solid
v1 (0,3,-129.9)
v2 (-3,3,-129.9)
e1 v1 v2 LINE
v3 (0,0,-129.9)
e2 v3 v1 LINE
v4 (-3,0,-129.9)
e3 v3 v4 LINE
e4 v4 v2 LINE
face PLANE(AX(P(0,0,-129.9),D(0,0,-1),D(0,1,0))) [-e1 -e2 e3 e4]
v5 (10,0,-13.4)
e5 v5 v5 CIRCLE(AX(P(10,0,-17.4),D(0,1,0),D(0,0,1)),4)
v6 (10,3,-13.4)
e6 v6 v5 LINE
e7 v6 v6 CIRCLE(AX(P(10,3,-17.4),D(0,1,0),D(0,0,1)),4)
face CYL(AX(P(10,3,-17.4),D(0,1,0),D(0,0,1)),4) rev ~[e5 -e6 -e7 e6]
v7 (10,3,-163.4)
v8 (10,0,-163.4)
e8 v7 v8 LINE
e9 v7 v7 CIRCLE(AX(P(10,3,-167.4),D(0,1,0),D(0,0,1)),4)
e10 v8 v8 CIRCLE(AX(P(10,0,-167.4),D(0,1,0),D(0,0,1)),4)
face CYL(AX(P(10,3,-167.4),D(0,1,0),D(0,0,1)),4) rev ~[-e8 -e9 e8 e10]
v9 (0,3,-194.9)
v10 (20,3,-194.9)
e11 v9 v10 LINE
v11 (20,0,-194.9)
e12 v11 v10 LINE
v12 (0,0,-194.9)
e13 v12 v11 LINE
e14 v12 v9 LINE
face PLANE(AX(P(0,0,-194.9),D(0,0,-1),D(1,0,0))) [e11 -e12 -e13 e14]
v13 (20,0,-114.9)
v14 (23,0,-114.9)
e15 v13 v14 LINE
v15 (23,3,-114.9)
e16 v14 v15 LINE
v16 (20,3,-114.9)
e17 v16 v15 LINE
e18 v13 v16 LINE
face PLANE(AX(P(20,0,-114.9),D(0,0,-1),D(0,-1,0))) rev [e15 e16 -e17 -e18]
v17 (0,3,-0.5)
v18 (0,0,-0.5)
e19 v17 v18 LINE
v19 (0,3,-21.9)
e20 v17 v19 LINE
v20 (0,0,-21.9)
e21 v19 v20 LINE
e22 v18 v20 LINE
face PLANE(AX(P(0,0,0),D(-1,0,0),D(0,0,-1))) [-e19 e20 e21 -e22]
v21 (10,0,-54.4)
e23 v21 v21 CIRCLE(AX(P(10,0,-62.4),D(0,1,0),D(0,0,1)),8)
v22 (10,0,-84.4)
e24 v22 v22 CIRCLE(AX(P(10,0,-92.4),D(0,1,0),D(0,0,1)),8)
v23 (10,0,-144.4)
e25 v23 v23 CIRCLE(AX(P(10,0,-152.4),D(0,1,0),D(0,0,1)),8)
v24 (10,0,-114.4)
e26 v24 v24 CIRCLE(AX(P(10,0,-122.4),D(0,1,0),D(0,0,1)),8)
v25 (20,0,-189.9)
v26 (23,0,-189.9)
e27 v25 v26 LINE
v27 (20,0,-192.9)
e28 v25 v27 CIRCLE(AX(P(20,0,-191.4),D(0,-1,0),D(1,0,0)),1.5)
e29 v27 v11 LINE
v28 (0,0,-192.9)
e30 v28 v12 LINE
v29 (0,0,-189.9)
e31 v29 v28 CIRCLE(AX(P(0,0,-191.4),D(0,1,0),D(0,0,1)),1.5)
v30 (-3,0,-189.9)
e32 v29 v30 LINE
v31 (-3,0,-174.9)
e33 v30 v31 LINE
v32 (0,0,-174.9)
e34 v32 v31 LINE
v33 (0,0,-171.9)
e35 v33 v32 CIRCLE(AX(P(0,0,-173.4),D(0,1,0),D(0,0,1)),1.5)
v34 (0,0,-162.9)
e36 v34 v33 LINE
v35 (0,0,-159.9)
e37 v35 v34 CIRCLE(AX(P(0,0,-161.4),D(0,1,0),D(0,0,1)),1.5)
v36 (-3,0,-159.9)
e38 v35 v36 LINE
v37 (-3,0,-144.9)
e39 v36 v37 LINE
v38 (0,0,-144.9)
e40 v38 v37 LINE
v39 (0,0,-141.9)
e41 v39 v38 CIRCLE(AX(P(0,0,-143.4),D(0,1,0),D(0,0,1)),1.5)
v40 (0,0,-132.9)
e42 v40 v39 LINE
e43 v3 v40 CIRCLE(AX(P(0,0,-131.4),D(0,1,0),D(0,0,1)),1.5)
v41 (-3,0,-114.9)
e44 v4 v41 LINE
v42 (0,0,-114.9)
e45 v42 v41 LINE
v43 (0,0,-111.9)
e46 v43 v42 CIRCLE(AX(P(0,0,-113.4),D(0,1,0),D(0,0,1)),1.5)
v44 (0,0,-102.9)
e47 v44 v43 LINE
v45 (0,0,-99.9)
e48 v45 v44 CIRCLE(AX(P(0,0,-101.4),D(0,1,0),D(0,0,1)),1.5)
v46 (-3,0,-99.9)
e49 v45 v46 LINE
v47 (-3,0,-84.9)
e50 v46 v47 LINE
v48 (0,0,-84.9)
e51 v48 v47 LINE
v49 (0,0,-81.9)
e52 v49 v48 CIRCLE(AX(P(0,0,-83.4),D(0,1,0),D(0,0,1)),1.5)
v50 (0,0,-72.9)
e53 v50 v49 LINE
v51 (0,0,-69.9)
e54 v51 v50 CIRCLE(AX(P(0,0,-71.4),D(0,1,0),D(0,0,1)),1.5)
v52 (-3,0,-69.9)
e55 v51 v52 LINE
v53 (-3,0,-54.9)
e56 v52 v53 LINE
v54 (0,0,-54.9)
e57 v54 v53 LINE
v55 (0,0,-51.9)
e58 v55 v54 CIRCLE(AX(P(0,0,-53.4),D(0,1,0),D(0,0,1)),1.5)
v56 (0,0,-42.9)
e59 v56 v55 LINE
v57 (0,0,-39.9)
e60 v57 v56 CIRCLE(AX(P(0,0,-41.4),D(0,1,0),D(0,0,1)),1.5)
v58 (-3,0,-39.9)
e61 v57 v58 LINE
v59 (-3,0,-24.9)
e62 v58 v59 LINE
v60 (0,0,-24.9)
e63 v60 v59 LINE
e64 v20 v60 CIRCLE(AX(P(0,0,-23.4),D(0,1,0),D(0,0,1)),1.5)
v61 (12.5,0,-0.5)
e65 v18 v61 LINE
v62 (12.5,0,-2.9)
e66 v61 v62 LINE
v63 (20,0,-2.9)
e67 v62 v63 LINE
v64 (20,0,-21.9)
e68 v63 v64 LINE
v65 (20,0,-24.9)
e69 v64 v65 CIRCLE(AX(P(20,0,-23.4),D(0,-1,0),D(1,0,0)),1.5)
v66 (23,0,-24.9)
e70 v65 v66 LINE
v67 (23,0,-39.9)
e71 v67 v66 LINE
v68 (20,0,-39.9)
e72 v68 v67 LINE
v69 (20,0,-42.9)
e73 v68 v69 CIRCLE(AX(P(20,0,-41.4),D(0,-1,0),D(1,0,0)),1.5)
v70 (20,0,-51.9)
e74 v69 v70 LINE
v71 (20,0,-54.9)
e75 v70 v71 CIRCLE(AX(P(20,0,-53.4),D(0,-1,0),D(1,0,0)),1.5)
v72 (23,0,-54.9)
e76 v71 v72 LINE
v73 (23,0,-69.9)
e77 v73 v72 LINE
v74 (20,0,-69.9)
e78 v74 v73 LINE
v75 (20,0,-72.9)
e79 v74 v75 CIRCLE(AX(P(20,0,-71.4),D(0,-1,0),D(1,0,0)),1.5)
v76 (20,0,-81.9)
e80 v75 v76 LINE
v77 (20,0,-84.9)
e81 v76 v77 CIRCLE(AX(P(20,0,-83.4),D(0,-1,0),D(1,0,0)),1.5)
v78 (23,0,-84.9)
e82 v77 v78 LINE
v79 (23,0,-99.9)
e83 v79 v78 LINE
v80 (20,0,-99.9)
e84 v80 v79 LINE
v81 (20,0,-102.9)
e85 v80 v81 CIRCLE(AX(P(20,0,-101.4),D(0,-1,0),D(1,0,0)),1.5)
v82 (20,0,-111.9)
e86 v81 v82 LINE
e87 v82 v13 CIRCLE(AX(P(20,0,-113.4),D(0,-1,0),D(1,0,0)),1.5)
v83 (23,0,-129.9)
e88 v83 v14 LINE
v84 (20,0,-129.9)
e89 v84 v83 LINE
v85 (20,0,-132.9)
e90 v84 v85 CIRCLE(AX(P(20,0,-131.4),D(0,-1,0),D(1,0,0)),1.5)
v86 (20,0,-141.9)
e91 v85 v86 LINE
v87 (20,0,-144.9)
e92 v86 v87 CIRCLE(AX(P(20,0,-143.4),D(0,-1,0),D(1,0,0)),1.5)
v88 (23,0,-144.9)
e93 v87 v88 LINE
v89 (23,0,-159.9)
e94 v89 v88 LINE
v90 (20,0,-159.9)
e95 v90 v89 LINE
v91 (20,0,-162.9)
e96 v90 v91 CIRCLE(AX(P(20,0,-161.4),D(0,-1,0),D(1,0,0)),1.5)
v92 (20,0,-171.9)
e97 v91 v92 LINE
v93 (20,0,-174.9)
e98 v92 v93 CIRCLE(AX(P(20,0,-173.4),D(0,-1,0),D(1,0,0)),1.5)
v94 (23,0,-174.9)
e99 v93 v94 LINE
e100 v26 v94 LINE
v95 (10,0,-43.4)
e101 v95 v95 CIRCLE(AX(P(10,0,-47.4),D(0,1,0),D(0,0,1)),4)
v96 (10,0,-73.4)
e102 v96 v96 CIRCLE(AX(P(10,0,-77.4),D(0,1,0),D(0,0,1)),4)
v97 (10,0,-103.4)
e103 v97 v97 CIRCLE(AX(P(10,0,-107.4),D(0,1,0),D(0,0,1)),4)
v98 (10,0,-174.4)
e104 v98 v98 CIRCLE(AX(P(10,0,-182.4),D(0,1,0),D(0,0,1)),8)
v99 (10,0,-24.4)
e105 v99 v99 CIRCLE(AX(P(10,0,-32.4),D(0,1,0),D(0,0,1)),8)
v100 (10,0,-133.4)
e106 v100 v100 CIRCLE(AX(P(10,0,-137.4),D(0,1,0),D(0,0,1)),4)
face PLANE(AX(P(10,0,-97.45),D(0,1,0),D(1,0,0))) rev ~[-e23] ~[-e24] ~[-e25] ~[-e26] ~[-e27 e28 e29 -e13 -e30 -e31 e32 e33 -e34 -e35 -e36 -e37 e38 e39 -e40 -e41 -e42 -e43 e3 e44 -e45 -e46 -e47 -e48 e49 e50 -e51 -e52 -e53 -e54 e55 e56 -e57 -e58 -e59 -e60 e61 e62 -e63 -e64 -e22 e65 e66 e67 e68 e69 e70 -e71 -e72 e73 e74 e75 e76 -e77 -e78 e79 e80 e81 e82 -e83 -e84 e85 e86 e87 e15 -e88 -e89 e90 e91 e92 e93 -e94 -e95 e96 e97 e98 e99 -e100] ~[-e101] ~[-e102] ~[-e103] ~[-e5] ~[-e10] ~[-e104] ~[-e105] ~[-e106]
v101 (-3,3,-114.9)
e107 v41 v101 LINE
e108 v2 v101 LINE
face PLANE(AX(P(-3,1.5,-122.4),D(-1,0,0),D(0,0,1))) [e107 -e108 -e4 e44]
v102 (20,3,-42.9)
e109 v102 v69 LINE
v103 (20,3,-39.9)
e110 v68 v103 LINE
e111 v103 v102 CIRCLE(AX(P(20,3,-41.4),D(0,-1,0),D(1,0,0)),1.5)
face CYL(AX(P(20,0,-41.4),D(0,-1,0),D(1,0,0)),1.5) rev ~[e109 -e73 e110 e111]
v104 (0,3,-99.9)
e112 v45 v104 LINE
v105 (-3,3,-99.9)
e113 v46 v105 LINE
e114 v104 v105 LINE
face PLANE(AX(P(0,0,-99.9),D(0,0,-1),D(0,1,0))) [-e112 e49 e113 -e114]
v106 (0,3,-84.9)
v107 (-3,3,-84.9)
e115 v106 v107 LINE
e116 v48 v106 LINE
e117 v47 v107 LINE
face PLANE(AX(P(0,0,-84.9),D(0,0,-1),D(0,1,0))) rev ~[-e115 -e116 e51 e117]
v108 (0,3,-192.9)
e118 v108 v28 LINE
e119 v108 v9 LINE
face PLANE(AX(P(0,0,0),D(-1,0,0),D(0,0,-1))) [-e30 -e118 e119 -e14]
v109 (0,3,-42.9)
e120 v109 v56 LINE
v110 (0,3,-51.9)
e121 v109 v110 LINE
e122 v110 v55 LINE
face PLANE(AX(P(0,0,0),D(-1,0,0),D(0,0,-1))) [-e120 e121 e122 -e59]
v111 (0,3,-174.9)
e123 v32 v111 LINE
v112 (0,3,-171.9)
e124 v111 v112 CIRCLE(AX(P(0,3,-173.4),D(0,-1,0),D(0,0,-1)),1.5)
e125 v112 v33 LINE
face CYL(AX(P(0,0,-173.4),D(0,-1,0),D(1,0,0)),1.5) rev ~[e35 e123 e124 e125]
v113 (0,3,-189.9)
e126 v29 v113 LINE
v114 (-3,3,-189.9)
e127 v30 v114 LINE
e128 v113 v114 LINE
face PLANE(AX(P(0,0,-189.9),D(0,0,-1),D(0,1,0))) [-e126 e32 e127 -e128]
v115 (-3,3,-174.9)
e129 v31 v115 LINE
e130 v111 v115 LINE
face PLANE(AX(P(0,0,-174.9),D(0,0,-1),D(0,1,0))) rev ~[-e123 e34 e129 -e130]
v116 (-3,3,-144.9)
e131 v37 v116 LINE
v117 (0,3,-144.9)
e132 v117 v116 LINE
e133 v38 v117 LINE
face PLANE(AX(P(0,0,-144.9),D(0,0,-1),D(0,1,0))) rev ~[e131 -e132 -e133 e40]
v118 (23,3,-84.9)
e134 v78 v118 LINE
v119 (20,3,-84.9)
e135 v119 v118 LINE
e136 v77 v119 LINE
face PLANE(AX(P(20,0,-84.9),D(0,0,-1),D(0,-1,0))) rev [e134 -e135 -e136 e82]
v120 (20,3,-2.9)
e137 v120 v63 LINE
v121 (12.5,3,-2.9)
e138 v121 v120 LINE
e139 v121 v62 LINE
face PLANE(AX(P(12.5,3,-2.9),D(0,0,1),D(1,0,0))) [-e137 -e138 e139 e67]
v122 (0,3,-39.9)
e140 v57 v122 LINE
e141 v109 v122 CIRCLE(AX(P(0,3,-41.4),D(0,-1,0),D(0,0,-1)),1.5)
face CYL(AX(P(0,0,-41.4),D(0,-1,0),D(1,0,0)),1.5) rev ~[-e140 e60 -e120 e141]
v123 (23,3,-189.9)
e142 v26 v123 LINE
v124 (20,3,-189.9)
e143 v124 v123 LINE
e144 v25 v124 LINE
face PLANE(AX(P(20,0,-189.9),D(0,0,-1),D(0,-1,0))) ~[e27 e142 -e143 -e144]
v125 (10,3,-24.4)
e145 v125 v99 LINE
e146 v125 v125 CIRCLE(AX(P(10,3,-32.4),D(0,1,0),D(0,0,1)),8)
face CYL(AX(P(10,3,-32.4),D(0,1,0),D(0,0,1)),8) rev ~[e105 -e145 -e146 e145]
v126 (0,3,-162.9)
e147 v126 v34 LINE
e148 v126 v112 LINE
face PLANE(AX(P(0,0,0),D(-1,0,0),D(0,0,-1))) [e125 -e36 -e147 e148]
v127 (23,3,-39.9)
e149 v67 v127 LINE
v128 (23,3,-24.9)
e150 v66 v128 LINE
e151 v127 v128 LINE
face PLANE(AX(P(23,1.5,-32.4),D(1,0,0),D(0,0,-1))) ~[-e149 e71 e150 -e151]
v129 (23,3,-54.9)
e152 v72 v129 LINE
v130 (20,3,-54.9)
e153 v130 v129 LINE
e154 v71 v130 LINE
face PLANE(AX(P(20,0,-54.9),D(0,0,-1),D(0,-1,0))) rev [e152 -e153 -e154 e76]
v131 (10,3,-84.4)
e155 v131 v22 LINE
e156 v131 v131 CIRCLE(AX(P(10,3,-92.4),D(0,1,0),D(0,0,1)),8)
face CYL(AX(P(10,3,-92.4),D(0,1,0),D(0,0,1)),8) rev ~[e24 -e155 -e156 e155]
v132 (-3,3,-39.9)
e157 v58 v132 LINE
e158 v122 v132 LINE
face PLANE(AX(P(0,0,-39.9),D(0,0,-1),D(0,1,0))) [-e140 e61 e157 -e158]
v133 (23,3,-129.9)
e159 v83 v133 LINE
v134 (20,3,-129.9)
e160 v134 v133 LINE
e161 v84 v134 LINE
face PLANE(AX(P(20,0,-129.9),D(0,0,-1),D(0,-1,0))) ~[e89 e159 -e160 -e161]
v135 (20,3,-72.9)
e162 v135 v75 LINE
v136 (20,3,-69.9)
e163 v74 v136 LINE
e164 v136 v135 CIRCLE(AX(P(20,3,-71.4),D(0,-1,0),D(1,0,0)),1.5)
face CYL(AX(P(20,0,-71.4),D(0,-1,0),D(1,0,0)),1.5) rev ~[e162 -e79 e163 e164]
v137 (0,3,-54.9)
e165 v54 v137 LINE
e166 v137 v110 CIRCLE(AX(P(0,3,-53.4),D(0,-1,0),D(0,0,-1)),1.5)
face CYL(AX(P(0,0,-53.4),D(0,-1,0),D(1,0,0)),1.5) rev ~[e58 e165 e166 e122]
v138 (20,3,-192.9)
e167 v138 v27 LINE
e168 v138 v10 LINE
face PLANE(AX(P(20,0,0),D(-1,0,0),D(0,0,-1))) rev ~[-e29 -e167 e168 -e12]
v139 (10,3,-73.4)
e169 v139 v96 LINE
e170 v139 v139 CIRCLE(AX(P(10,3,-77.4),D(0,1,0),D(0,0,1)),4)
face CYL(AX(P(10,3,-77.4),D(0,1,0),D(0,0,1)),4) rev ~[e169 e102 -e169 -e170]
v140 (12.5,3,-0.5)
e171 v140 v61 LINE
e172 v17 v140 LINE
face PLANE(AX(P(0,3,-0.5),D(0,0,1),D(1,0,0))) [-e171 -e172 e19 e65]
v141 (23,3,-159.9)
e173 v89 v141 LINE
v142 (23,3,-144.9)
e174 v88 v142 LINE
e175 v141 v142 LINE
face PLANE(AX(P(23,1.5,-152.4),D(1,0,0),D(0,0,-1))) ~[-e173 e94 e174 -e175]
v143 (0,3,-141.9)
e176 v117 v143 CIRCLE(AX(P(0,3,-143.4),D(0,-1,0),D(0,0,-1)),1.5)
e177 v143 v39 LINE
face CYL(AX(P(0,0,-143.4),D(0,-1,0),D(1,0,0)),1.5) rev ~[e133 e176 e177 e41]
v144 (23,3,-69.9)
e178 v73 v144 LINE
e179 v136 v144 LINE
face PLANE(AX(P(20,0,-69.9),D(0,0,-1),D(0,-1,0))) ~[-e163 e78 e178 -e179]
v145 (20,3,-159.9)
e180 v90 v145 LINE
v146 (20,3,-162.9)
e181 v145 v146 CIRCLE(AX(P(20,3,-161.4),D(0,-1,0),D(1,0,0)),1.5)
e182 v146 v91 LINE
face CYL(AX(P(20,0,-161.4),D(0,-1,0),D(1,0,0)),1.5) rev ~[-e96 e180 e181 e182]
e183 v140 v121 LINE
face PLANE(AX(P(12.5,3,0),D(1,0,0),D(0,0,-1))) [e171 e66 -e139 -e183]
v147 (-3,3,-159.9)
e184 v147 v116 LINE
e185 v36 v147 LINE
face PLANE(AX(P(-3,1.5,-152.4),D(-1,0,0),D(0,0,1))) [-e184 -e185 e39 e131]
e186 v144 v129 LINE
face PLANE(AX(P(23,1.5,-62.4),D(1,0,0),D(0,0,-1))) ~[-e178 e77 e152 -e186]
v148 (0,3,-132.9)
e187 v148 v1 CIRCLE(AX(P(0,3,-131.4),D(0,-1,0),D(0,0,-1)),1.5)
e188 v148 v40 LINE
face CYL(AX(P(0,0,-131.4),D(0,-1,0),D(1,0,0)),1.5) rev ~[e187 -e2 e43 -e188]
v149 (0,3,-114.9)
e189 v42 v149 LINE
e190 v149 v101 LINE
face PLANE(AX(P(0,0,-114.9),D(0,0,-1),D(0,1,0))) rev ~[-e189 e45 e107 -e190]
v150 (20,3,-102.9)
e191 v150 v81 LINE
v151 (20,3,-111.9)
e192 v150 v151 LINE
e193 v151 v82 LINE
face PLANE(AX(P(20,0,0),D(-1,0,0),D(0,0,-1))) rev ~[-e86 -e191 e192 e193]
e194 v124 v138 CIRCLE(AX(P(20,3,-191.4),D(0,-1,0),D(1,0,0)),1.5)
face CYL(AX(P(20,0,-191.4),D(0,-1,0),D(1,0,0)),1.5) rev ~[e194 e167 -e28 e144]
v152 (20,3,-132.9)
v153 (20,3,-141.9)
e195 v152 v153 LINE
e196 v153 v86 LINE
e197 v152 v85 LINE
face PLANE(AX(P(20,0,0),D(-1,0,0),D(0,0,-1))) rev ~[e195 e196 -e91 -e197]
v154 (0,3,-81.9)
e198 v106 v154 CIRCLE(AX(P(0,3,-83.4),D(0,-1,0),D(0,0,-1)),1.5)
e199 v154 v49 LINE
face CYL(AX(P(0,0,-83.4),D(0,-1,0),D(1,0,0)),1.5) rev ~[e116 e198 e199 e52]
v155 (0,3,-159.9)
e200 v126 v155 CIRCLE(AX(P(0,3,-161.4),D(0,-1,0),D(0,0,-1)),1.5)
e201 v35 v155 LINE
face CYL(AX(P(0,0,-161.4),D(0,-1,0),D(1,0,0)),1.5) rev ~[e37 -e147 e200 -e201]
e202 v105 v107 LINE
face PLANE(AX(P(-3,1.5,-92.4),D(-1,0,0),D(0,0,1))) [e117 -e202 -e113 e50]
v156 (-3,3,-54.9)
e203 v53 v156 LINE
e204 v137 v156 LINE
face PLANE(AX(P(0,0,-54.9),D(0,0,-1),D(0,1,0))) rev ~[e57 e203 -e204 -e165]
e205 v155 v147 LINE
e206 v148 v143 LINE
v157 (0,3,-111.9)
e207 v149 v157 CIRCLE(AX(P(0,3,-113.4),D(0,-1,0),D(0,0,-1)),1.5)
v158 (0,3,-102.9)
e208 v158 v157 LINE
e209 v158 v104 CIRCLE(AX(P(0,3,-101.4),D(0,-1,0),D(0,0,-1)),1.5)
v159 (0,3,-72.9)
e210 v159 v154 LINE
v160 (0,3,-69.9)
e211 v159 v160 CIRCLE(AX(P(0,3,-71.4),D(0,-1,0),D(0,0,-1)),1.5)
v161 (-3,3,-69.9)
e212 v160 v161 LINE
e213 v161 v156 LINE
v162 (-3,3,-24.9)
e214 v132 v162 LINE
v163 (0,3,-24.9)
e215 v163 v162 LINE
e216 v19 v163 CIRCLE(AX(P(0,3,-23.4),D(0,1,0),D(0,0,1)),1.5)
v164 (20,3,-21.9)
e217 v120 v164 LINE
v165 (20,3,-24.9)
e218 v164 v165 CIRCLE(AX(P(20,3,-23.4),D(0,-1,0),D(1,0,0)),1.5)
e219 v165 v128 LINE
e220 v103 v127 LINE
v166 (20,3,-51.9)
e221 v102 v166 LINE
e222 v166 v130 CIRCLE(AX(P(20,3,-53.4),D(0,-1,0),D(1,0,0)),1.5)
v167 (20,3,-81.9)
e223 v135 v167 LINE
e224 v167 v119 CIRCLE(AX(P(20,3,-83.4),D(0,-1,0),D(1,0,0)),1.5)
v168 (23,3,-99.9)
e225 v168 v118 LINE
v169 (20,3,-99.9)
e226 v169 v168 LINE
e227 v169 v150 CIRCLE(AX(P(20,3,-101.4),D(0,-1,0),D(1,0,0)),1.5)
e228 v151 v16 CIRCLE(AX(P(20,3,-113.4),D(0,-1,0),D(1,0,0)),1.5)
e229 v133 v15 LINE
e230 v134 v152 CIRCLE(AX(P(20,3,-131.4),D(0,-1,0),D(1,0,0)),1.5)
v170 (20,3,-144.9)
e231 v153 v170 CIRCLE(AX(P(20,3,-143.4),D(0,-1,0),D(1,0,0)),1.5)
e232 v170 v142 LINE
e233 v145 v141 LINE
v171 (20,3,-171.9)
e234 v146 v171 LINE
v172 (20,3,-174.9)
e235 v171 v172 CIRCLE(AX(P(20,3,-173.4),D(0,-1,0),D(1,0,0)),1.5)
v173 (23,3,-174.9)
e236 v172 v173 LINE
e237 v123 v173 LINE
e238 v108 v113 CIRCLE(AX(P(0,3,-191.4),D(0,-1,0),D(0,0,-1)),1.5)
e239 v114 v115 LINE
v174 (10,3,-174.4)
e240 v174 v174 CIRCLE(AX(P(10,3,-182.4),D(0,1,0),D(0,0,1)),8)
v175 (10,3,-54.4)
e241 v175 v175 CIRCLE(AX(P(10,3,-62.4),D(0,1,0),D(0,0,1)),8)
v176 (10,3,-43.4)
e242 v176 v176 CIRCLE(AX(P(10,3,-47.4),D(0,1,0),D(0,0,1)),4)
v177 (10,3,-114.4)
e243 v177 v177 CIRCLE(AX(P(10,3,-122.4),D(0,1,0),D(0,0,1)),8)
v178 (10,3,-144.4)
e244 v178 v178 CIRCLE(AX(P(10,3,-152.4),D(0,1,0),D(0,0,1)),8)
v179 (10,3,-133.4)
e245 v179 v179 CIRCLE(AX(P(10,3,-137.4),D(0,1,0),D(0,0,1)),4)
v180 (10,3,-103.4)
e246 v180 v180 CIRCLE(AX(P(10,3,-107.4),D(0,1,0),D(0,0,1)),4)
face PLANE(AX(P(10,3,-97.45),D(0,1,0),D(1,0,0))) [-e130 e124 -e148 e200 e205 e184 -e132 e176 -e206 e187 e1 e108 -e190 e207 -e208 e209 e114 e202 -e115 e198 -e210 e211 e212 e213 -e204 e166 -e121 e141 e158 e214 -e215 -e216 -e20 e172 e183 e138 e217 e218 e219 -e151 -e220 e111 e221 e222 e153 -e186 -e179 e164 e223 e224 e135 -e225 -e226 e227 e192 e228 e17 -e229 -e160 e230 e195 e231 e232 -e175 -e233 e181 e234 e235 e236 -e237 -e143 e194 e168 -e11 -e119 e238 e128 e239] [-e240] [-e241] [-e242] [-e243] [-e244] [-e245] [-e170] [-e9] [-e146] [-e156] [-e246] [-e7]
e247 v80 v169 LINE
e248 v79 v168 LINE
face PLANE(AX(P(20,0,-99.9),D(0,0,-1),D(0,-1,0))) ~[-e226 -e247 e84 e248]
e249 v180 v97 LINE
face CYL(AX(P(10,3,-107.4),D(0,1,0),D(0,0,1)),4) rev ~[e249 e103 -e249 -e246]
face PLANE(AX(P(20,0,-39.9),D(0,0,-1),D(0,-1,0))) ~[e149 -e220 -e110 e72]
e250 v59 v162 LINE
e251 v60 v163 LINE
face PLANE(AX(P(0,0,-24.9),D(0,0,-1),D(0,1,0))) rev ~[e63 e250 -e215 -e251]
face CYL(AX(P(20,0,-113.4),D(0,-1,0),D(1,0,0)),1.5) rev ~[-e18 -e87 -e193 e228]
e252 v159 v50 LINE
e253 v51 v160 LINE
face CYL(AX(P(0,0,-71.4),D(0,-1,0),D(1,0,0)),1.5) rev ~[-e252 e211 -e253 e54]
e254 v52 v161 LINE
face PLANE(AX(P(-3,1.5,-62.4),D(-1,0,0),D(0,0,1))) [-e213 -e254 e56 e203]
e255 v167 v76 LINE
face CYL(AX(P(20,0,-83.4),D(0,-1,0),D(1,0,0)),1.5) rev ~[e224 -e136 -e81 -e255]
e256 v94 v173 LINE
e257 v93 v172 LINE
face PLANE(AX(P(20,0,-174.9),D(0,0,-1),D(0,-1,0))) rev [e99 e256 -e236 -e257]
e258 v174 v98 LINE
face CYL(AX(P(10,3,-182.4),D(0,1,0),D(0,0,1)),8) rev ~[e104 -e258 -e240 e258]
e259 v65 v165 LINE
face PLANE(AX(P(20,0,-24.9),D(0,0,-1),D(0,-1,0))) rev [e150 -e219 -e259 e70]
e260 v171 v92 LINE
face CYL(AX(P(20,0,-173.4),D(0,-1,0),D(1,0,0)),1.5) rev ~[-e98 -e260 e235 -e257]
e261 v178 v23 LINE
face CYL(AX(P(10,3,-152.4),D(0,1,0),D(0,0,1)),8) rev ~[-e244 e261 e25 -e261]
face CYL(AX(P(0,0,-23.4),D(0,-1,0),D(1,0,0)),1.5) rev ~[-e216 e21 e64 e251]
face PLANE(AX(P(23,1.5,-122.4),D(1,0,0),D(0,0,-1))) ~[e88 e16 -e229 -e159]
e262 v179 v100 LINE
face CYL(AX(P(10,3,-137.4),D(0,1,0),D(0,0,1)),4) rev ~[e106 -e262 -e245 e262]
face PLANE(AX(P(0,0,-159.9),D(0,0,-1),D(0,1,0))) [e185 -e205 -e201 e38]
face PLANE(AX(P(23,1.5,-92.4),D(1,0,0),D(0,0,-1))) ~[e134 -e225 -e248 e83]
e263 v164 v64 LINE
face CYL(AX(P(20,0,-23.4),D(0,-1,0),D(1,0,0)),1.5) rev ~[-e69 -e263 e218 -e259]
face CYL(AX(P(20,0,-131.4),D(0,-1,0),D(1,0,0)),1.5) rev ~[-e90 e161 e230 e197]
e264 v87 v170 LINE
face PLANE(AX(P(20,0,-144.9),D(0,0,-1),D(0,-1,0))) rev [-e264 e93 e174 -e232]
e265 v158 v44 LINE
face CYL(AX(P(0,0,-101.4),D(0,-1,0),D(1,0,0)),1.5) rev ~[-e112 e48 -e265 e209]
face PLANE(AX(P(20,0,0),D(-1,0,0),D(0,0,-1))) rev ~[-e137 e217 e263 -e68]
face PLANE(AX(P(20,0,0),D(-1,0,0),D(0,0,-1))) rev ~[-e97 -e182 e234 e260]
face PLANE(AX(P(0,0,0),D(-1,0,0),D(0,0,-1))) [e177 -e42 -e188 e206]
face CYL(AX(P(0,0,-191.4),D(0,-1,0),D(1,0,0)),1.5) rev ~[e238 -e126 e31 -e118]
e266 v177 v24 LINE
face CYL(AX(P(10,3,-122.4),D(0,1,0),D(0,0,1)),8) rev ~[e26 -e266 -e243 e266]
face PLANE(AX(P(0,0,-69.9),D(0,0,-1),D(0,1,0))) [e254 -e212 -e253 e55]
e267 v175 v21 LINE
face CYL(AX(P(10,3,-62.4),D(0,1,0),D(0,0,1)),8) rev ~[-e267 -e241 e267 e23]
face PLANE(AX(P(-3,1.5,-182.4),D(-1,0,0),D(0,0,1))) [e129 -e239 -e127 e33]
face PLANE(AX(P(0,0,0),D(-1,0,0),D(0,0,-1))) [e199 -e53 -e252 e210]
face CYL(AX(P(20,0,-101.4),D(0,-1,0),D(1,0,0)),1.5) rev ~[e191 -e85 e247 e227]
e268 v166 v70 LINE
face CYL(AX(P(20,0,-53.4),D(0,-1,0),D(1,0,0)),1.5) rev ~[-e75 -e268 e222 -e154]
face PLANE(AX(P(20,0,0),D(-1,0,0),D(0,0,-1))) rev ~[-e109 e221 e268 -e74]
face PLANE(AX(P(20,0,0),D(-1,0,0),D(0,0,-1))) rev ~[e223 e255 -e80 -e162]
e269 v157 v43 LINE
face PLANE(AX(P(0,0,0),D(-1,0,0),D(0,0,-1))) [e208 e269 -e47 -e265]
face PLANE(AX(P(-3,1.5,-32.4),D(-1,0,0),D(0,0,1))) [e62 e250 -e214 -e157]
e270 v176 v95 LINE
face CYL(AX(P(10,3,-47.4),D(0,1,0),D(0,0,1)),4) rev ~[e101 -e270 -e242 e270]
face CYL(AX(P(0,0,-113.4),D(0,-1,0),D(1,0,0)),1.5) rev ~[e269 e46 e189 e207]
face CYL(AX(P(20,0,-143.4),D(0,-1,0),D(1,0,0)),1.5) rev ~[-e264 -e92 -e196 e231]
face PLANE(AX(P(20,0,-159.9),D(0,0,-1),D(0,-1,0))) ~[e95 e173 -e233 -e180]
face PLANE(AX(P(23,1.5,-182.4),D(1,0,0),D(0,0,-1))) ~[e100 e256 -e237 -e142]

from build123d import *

# Parameters (mm, degrees)
SKETCH_1_W          = 20
SKETCH_1_H          = 194.9
EXTRUDE_1_DEPTH     = 3
SKETCH_2_W          = 7.5
SKETCH_2_H          = 2.9
CUT_EXTRUDE_1_DEPTH = 196.946446765
SKETCH_3_W          = 15
SKETCH_3_H          = 3
EXTRUDE_3_DEPTH     = 3
SKETCH_4_R          = 8
CUT_EXTRUDE_2_DEPTH = 197.275342313
SKETCH_5_R          = 4
CUT_EXTRUDE_3_DEPTH = 197.275342313
SKETCH_6_W          = 12.5
SKETCH_6_H          = 0.5
CUT_EXTRUDE_4_DEPTH = 197.275342313
SKETCH_7_R          = 1.5
CUT_EXTRUDE_5_DEPTH = 10


with BuildPart() as part:
    # 草图1 → 凸台-拉伸1 (new body)
    with BuildSketch(Plane(origin=(0, 0, 0), x_dir=(1, 0, 0), z_dir=(0, 1, 0))):
        with Locations((10, 97.45)):
            Rectangle(SKETCH_1_W, SKETCH_1_H)
    extrude(amount=EXTRUDE_1_DEPTH)

    # 草图2 → 切除-拉伸1 (cut, through all)
    with BuildSketch(Plane(origin=(0, 3, 0), x_dir=(1, 0, 0), z_dir=(0, 1, 0))):
        with Locations((16.25, 1.45)):
            Rectangle(SKETCH_2_W, SKETCH_2_H)
    extrude(amount=-CUT_EXTRUDE_1_DEPTH, mode=Mode.SUBTRACT)

    # 草图3 → 凸台-拉伸3 (add)
    with BuildSketch(Plane.ZY):
        with Locations((-182.4, 1.5)):
            Rectangle(SKETCH_3_W, SKETCH_3_H)
        with Locations((-152.4, 1.5)):
            Rectangle(SKETCH_3_W, SKETCH_3_H)
        with Locations((-122.4, 1.5)):
            Rectangle(SKETCH_3_W, SKETCH_3_H)
        with Locations((-92.4, 1.5)):
            Rectangle(SKETCH_3_W, SKETCH_3_H)
        with Locations((-62.4, 1.5)):
            Rectangle(SKETCH_3_W, SKETCH_3_H)
        with Locations((-32.4, 1.5)):
            Rectangle(SKETCH_3_W, SKETCH_3_H)
    extrude_3 = extrude(amount=EXTRUDE_3_DEPTH)

    # 镜向1: 凸台-拉伸3 across plane
    add(extrude_3.mirror(Plane.ZY.offset(-10)))

    # 草图4 → 切除-拉伸2 (cut, through all)
    with BuildSketch(Plane(origin=(0, 3, 0), x_dir=(1, 0, 0), z_dir=(0, 1, 0))):
        with Locations(Location((10, 182.4, 0), (0, 0, 270))):
            Circle(SKETCH_4_R)
        with Locations(Location((10, 152.4, 0), (0, 0, 270))):
            Circle(SKETCH_4_R)
        with Locations(Location((10, 122.4, 0), (0, 0, 270))):
            Circle(SKETCH_4_R)
        with Locations(Location((10, 92.4, 0), (0, 0, 270))):
            Circle(SKETCH_4_R)
        with Locations(Location((10, 62.4, 0), (0, 0, 270))):
            Circle(SKETCH_4_R)
        with Locations(Location((10, 32.4, 0), (0, 0, 270))):
            Circle(SKETCH_4_R)
    extrude(amount=-CUT_EXTRUDE_2_DEPTH, mode=Mode.SUBTRACT)

    # 草图5 → 切除-拉伸3 (cut, through all)
    with BuildSketch(Plane(origin=(0, 3, 0), x_dir=(1, 0, 0), z_dir=(0, 1, 0))):
        with Locations(Location((10, 167.4, 0), (0, 0, 270))):
            Circle(SKETCH_5_R)
        with Locations(Location((10, 137.4, 0), (0, 0, 270))):
            Circle(SKETCH_5_R)
        with Locations(Location((10, 107.4, 0), (0, 0, 270))):
            Circle(SKETCH_5_R)
        with Locations(Location((10, 77.4, 0), (0, 0, 270))):
            Circle(SKETCH_5_R)
        with Locations(Location((10, 47.4, 0), (0, 0, 270))):
            Circle(SKETCH_5_R)
        with Locations(Location((10, 17.4, 0), (0, 0, 270))):
            Circle(SKETCH_5_R)
    extrude(amount=-CUT_EXTRUDE_3_DEPTH, mode=Mode.SUBTRACT)

    # 草图6 → 切除-拉伸4 (cut, through all)
    with BuildSketch(Plane(origin=(0, 3, 0), x_dir=(1, 0, 0), z_dir=(0, 1, 0))):
        with Locations((6.25, 0.25)):
            Rectangle(SKETCH_6_W, SKETCH_6_H)
    extrude(amount=-CUT_EXTRUDE_4_DEPTH, mode=Mode.SUBTRACT)

    # 草图7 → 切除-拉伸5 (cut)
    with BuildSketch(Plane.XZ):
        with Locations((0, -23.4)):
            Circle(SKETCH_7_R)
        with Locations((0, -41.4)):
            Circle(SKETCH_7_R)
        with Locations((0, -53.4)):
            Circle(SKETCH_7_R)
        with Locations((0, -71.4)):
            Circle(SKETCH_7_R)
        with Locations((0, -83.4)):
            Circle(SKETCH_7_R)
        with Locations((0, -101.4)):
            Circle(SKETCH_7_R)
        with Locations((0, -113.4)):
            Circle(SKETCH_7_R)
        with Locations((0, -131.4)):
            Circle(SKETCH_7_R)
        with Locations((0, -143.4)):
            Circle(SKETCH_7_R)
        with Locations((0, -161.4)):
            Circle(SKETCH_7_R)
        with Locations((0, -173.4)):
            Circle(SKETCH_7_R)
        with Locations((0, -191.4)):
            Circle(SKETCH_7_R)
        with Locations((20, -191.4)):
            Circle(SKETCH_7_R)
        with Locations((20, -173.4)):
            Circle(SKETCH_7_R)
        with Locations((20, -161.4)):
            Circle(SKETCH_7_R)
        with Locations((20, -143.4)):
            Circle(SKETCH_7_R)
        with Locations((20, -131.4)):
            Circle(SKETCH_7_R)
        with Locations((20, -113.4)):
            Circle(SKETCH_7_R)
        with Locations((20, -101.4)):
            Circle(SKETCH_7_R)
        with Locations((20, -83.4)):
            Circle(SKETCH_7_R)
        with Locations((20, -71.4)):
            Circle(SKETCH_7_R)
        with Locations((20, -53.4)):
            Circle(SKETCH_7_R)
        with Locations((20, -41.4)):
            Circle(SKETCH_7_R)
        with Locations((20, -23.4)):
            Circle(SKETCH_7_R)
    extrude(amount=-CUT_EXTRUDE_5_DEPTH, mode=Mode.SUBTRACT)


solid = part.part
